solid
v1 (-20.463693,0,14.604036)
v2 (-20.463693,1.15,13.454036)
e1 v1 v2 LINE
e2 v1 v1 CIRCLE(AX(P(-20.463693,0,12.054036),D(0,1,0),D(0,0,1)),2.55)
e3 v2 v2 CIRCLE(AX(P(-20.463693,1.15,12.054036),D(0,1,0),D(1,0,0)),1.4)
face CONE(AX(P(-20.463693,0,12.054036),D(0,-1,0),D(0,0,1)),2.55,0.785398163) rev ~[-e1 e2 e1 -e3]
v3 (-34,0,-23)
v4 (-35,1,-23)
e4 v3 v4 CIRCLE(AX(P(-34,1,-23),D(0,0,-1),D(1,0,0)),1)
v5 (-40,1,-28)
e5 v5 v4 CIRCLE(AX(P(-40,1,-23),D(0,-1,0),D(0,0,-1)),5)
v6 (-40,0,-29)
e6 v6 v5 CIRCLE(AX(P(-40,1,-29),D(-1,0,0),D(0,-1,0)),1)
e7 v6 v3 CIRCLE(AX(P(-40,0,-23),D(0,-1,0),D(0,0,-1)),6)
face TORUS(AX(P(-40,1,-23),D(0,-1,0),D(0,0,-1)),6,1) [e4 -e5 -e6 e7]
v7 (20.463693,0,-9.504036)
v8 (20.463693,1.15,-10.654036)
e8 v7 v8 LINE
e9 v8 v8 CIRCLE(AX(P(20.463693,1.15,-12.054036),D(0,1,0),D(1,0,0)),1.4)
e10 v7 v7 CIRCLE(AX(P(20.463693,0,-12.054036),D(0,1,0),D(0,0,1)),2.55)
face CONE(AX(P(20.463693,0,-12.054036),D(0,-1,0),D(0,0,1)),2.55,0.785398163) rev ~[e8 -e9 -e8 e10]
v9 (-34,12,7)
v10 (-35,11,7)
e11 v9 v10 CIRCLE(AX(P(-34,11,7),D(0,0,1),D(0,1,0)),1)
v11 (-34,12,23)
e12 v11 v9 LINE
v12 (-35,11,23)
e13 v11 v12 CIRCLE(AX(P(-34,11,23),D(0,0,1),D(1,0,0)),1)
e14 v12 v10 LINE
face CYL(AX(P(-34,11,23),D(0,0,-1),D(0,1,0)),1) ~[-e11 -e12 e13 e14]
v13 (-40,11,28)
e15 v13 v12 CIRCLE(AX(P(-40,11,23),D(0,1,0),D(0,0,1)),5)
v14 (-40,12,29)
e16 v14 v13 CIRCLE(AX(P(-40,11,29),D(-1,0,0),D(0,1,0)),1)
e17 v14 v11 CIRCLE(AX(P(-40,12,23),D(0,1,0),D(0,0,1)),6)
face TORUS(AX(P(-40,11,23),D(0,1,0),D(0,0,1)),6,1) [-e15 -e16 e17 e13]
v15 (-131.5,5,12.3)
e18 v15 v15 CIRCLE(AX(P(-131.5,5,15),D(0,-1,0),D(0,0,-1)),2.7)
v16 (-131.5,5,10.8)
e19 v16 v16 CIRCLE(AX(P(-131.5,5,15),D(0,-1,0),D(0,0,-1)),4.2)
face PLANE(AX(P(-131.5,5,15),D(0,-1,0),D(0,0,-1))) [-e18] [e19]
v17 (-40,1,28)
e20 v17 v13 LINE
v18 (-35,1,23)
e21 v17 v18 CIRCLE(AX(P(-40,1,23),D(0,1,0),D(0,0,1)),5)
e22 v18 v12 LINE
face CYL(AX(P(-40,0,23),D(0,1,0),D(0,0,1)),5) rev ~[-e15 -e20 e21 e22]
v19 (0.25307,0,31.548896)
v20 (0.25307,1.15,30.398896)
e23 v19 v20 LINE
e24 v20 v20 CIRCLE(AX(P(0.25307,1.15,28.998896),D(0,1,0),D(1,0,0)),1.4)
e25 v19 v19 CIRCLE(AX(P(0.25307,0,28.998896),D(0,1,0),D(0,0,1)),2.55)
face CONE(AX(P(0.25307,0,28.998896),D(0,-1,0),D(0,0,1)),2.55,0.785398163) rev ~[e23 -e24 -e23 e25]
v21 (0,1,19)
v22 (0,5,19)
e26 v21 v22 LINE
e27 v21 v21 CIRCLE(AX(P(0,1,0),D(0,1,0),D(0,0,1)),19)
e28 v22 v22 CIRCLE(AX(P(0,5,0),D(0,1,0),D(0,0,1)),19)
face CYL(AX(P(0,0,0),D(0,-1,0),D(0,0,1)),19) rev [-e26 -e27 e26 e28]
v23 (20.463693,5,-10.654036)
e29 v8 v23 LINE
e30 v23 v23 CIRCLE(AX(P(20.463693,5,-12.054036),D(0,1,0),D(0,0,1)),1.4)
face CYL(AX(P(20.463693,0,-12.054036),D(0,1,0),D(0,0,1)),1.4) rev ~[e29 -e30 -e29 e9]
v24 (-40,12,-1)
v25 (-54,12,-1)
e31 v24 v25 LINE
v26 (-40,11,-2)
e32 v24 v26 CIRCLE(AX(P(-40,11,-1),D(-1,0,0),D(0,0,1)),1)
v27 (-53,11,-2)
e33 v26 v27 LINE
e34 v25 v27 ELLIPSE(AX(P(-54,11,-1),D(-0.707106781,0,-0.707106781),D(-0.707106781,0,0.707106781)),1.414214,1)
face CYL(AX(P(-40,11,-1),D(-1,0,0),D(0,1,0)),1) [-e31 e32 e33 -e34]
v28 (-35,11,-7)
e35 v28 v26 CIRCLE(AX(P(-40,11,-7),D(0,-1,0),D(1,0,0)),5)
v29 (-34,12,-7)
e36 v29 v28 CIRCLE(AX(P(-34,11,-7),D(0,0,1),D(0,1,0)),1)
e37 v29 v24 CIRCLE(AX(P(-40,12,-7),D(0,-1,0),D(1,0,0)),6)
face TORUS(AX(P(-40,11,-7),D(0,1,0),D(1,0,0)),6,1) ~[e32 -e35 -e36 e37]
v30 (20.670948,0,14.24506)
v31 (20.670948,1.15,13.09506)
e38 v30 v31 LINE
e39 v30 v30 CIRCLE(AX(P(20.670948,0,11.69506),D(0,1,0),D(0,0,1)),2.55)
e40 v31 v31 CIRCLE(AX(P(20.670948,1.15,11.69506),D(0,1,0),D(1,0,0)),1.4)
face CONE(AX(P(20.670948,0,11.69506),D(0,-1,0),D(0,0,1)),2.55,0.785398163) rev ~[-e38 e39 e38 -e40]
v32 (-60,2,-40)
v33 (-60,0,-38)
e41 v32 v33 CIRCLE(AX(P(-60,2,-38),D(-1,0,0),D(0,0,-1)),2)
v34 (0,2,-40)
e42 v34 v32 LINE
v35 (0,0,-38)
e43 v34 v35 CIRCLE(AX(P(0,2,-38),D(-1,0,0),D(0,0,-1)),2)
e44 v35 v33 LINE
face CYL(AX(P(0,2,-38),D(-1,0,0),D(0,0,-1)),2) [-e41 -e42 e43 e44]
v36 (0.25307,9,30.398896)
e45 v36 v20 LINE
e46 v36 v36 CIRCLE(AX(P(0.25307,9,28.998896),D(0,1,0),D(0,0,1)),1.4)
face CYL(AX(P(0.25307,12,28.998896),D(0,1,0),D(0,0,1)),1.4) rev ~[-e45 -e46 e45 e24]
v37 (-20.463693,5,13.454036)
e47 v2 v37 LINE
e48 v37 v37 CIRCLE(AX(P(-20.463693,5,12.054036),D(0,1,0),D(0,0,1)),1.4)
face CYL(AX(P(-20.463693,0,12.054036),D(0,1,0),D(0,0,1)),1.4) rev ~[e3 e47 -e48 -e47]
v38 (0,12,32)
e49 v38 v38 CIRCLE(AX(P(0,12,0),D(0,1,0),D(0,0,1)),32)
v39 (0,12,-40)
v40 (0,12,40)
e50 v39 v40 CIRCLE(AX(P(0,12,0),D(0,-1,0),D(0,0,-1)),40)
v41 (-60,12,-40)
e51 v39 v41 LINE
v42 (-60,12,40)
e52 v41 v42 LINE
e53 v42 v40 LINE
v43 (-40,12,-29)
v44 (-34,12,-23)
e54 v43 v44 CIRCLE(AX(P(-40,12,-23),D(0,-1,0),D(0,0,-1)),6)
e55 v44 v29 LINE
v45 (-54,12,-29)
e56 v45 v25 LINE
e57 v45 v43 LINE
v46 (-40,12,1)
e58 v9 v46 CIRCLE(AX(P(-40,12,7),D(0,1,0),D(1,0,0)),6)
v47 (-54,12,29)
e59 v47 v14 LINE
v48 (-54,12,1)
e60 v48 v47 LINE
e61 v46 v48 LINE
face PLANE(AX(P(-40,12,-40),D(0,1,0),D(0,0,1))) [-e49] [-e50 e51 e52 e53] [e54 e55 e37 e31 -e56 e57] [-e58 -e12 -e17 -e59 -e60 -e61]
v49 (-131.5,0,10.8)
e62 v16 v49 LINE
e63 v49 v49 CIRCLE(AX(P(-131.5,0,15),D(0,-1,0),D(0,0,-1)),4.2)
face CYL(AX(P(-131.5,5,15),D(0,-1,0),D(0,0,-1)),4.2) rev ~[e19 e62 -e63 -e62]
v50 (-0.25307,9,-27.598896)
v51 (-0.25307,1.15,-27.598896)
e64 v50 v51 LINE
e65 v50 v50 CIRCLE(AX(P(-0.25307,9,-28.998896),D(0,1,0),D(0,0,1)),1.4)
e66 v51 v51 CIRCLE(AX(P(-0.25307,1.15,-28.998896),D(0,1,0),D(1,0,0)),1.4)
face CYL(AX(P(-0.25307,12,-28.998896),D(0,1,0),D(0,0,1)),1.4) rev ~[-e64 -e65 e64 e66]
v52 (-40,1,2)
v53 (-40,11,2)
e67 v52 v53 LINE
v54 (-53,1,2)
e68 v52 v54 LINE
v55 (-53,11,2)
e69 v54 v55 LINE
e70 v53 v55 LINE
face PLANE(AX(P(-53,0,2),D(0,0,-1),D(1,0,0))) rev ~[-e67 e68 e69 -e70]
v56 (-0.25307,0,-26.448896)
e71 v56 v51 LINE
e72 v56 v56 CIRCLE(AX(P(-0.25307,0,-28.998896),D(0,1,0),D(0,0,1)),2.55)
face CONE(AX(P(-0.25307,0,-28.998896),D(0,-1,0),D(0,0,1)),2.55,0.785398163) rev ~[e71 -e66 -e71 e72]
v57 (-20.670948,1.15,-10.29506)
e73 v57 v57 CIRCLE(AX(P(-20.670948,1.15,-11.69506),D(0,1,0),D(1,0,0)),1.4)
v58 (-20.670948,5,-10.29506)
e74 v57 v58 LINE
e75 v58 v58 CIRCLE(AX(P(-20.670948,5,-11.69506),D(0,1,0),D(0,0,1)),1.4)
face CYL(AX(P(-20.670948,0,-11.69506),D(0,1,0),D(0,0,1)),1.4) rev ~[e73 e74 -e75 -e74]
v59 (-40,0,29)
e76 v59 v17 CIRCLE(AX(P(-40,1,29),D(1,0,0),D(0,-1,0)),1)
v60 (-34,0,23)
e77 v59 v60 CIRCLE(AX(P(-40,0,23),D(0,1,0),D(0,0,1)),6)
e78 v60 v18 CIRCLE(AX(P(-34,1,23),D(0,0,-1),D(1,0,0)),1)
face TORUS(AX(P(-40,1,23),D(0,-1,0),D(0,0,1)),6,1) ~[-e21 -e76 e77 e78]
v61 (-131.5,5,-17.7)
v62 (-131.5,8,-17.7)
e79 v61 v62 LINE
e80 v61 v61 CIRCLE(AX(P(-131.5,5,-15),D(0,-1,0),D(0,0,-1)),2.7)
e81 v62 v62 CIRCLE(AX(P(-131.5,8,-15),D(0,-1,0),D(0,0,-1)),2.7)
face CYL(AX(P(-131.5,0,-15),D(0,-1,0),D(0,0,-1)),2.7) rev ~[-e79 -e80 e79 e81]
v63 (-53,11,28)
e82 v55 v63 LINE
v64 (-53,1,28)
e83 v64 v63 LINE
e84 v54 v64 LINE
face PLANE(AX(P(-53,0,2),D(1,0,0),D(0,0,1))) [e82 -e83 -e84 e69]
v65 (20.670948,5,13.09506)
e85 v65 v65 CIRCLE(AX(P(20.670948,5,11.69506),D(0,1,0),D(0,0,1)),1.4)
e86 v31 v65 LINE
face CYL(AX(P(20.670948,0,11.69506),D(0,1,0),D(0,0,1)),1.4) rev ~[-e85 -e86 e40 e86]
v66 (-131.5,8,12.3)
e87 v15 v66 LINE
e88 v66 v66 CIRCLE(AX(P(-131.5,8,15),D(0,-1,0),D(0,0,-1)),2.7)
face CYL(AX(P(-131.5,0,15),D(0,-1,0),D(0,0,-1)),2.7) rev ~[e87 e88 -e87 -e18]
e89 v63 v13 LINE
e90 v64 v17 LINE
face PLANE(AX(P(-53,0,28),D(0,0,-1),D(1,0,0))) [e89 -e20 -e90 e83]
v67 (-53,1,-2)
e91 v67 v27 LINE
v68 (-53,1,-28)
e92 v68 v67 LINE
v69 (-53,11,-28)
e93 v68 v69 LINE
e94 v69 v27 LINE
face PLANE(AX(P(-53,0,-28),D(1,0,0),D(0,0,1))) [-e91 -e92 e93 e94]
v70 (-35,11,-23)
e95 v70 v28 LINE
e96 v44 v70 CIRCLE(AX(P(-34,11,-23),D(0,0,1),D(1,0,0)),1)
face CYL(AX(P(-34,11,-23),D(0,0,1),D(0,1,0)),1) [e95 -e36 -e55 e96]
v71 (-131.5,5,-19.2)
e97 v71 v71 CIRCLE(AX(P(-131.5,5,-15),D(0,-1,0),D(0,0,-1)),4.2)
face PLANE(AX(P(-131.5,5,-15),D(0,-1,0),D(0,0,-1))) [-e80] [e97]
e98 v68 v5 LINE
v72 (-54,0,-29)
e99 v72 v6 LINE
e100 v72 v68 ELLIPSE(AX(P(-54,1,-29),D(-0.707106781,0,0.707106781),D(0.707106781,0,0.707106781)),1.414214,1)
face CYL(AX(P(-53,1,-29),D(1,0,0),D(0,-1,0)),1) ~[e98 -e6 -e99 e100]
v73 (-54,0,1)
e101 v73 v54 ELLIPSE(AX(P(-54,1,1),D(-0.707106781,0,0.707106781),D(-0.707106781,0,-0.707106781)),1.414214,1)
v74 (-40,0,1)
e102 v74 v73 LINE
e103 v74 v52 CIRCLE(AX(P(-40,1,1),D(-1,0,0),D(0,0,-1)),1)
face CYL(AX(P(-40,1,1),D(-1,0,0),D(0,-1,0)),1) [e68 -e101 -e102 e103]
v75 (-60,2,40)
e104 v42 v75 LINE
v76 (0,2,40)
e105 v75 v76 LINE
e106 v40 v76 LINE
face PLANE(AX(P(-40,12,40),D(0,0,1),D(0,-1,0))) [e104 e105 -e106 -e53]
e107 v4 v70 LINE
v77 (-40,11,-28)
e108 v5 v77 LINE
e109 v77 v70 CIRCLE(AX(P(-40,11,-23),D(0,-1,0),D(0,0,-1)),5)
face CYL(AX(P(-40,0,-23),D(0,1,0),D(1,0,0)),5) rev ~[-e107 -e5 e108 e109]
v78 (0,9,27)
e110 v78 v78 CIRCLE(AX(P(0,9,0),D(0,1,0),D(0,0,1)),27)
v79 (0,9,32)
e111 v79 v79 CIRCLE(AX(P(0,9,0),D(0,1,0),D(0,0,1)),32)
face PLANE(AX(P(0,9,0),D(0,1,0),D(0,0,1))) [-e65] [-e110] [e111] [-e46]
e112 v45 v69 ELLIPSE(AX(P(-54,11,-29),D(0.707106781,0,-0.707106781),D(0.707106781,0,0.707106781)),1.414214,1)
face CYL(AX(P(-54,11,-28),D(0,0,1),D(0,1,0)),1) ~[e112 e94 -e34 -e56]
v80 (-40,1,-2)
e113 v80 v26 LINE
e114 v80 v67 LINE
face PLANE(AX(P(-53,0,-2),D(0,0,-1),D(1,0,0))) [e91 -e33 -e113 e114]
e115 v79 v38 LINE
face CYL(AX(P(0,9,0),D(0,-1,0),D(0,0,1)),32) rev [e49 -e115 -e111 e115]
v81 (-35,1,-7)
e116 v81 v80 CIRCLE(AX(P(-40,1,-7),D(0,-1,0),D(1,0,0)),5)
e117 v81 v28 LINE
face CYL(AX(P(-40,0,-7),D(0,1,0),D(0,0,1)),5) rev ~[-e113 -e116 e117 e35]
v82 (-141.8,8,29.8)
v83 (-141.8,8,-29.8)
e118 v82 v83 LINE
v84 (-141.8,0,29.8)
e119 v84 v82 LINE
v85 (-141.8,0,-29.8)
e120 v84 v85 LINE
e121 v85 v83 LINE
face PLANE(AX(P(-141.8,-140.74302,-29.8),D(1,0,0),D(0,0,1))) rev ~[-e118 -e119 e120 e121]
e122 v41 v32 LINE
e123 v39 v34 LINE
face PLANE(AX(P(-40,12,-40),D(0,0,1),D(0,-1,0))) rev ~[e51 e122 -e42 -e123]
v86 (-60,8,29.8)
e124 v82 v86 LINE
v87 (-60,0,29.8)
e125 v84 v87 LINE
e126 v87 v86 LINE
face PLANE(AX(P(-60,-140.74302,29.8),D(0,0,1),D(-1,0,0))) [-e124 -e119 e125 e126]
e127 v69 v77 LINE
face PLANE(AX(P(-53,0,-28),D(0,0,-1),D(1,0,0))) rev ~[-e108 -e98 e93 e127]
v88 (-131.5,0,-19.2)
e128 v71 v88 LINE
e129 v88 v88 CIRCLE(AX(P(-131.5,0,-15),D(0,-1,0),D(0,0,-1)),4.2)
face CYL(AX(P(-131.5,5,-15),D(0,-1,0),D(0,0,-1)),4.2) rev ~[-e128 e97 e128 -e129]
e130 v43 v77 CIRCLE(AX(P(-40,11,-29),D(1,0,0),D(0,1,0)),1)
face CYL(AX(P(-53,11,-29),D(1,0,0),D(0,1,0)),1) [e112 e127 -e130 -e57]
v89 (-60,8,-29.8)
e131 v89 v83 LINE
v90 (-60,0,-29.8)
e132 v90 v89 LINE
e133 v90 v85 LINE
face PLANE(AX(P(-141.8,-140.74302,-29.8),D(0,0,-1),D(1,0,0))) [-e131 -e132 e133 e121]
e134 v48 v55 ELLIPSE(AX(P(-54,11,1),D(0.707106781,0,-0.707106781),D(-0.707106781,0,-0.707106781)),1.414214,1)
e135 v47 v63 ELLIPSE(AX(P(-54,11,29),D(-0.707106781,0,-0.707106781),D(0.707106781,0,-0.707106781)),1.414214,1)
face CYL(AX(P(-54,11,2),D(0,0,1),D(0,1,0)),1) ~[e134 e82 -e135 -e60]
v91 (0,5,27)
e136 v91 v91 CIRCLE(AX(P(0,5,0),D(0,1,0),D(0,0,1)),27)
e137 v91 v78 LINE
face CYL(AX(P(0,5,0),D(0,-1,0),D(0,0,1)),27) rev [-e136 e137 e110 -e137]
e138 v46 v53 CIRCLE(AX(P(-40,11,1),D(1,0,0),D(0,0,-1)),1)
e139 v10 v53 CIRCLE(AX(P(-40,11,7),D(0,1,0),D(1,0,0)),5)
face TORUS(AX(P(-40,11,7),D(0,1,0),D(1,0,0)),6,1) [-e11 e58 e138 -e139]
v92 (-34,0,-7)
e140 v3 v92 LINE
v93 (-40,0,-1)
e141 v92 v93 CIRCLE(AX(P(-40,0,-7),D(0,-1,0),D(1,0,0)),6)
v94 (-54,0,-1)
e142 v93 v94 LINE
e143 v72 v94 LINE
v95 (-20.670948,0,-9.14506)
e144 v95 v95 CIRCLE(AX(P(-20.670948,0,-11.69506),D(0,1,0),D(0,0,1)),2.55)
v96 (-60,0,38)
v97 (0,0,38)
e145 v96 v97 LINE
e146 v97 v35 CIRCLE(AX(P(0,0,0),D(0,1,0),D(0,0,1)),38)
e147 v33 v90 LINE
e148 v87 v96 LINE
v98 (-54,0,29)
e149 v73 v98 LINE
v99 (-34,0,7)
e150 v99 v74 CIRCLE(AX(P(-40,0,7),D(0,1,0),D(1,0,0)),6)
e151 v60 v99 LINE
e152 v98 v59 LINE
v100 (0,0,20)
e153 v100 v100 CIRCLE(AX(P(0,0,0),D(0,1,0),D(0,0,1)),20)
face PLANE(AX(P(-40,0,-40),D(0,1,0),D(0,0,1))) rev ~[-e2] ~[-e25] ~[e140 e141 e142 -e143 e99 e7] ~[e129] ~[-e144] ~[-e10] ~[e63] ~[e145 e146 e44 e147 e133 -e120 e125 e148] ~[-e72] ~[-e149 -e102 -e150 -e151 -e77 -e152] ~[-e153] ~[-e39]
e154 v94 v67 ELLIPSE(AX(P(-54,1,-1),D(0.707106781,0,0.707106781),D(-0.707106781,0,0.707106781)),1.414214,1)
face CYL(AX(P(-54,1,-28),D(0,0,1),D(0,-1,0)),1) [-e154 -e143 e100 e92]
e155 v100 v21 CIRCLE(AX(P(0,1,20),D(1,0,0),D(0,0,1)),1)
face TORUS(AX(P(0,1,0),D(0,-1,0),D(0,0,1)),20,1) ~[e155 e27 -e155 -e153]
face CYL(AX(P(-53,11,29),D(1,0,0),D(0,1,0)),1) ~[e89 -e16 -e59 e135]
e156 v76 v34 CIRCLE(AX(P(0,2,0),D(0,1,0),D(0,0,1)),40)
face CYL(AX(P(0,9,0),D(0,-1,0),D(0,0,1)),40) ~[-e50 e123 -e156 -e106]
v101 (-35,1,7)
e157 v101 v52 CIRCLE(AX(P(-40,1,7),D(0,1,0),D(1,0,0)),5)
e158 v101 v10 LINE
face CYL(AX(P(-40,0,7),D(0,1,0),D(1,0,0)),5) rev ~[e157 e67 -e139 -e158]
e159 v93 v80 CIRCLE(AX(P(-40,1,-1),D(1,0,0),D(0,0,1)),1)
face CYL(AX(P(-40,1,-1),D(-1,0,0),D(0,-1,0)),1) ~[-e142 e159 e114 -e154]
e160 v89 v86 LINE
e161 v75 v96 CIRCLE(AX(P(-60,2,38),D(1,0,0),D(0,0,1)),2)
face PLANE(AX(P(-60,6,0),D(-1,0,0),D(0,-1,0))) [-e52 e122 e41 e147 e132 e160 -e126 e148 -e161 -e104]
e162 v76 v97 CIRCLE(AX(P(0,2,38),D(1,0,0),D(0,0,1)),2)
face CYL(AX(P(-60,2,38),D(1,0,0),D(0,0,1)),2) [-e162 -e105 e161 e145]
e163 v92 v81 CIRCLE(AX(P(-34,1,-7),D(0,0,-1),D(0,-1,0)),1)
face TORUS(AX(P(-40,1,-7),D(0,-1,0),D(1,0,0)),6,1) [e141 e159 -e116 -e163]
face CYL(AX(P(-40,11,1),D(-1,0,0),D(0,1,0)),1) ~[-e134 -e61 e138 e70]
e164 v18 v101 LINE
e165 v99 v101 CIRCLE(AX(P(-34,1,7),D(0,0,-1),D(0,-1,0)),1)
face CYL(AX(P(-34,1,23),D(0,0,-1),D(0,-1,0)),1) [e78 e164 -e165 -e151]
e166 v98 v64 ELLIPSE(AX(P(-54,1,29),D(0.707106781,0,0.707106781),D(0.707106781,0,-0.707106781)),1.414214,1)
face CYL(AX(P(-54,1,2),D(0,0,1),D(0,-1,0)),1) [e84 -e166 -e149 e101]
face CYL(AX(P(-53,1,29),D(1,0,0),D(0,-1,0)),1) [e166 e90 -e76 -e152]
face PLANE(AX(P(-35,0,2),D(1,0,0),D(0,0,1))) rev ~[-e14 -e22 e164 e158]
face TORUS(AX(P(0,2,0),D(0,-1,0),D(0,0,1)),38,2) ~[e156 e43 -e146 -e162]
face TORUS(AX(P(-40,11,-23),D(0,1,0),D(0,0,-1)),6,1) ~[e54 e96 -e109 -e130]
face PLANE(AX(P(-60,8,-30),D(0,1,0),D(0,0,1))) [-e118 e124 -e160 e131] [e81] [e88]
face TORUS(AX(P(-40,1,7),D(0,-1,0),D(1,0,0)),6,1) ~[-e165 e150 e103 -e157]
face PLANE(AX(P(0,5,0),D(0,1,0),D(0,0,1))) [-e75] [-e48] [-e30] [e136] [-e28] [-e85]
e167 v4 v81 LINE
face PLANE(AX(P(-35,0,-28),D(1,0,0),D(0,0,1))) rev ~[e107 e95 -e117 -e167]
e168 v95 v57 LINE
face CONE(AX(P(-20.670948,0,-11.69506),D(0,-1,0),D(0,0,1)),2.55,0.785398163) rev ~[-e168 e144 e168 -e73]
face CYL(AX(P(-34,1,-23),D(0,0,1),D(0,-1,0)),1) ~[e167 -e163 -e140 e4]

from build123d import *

# Parameters (mm, degrees)
SKETCH1_R                                         = 40
SKETCH1_R_2                                       = 19
BOSS_EXTRUDE1_DEPTH                               = 5
SKETCH2_R                                         = 40
SKETCH2_R_2                                       = 27
BOSS_EXTRUDE2_DEPTH                               = 4
SKETCH3_R                                         = 40
SKETCH3_R_2                                       = 32
BOSS_EXTRUDE3_DEPTH                               = 3
BOSS_EXTRUDE4_REACH                               = 92.244
BOSS_EXTRUDE4_END_RADIUS                          = 40
SKETCH6_W                                         = 12
SKETCH6_H                                         = 80
BOSS_EXTRUDE4_DIRECTION_2_DEPTH                   = 20
SKETCH9_W                                         = 60
SKETCH9_H                                         = 8
BOSS_EXTRUDE5_DEPTH                               = 82
SKETCH19_R                                        = 2.7
SKETCH19_W                                        = 18
SKETCH19_H                                        = 26
CUT_EXTRUDE8_DEPTH                                = 12
SKETCH5_R                                         = 1.4
SKETCH5_R_2                                       = 1.375
CUT_EXTRUDE1_HOLE_DEPTH                           = 149.013512897
CUT_EXTRUDE9_REALITY_DEPTH                        = 148.74302014
CUT_EXTRUDE9_REALITY_DEPTH_BACK                   = 148.74302014
CBORE_FOR_M5_HEX_HEAD_BOLT1_D                     = 5.4
CBORE_FOR_M5_HEX_HEAD_BOLT1_DEPTH                 = 17
CBORE_FOR_M5_HEX_HEAD_BOLT1_CBORE_D               = 8.4
CBORE_FOR_M5_HEX_HEAD_BOLT1_CBORE_DEPTH           = 5
CSK_FOR_M2_5_FLAT_HEAD_MACHINE_SCREW1_D           = 2.8
CSK_FOR_M2_5_FLAT_HEAD_MACHINE_SCREW1_CSINK_D     = 5.1
CSK_FOR_M2_5_FLAT_HEAD_MACHINE_SCREW1_CSINK_ANGLE = 90
FILLET1_5MM_R                                     = 5
FILLET2_2MM_R                                     = 2
FILLET3_1MM_R                                     = 1


with BuildPart() as part:
    # Sketch1 → Boss-Extrude1 (new body)
    with BuildSketch(Plane(origin=(0, 0, 0), x_dir=(1, 0, 0), z_dir=(0, 1, 0))):
        Circle(SKETCH1_R)
        Circle(SKETCH1_R_2, mode=Mode.SUBTRACT)
    extrude(amount=BOSS_EXTRUDE1_DEPTH)

    # Sketch2 → Boss-Extrude2 (add)
    with BuildSketch(Plane(origin=(0, 5, 0), x_dir=(1, 0, 0), z_dir=(0, 1, 0))):
        Circle(SKETCH2_R)
        Circle(SKETCH2_R_2, mode=Mode.SUBTRACT)
    extrude(amount=BOSS_EXTRUDE2_DEPTH)

    # Sketch3 → Boss-Extrude3 (add)
    with BuildSketch(Plane(origin=(0, 9, 0), x_dir=(1, 0, 0), z_dir=(0, 1, 0))):
        Circle(SKETCH3_R)
        Circle(SKETCH3_R_2, mode=Mode.SUBTRACT)
    extrude(amount=BOSS_EXTRUDE3_DEPTH)

    # Boss-Extrude4: up to this cylinder (the profile starts outside it)
    boss_extrude4_end = Plane(origin=(0, 6, 0), z_dir=(0, -1, 0)) * Cylinder(BOSS_EXTRUDE4_END_RADIUS, 265.488, mode=Mode.PRIVATE)
    # Sketch6 → Boss-Extrude4 (add, up to the surface)
    with BuildSketch(Plane(origin=(-40, 0, 0), x_dir=(0, -1, 0), z_dir=(-1, 0, 0)), mode=Mode.PRIVATE) as boss_extrude4_sk1:
        with Locations((-6, 0)):
            Rectangle(SKETCH6_W, SKETCH6_H)
    boss_extrude4_tool1 = extrude(boss_extrude4_sk1.sketch, amount=-BOSS_EXTRUDE4_REACH, mode=Mode.PRIVATE) - boss_extrude4_end
    add(boss_extrude4_tool1.solids().sort_by_distance((-40, 6, 0))[0])
    add(boss_extrude4_tool1.solids().sort_by_distance((-40, 6, 0))[1])

    # Sketch6 → Boss-Extrude4 direction 2 (add)
    with BuildSketch(Plane(origin=(-40, 0, 0), x_dir=(0, -1, 0), z_dir=(-1, 0, 0))):
        with Locations((-6, 0)):
            Rectangle(SKETCH6_W, SKETCH6_H)
    extrude(amount=BOSS_EXTRUDE4_DIRECTION_2_DEPTH)

    # Sketch9 → Boss-Extrude5 (add)
    with BuildSketch(Plane.ZY.offset(60)):
        with Locations((0, 4)):
            Rectangle(SKETCH9_W, SKETCH9_H)
    extrude(amount=BOSS_EXTRUDE5_DEPTH)

    # Sketch19 → Cut-Extrude8 (cut)
    with BuildSketch(Plane.XZ):
        with Locations((-131.5, 15)):
            Circle(SKETCH19_R)
        with Locations((-131.5, -15)):
            Circle(SKETCH19_R)
        with Locations((-44, 15)):
            Rectangle(SKETCH19_W, SKETCH19_H)
        with Locations((-44, -15)):
            Rectangle(SKETCH19_W, SKETCH19_H)
    extrude(amount=-CUT_EXTRUDE8_DEPTH, mode=Mode.SUBTRACT)

    # Sketch5 → Cut-Extrude1-Hole (cut, through all)
    with BuildSketch(Plane(origin=(0, 12, 0), x_dir=(1, 0, 0), z_dir=(0, 1, 0))):
        with Locations((-0.253069529, 28.998895769)):
            Circle(SKETCH5_R)
        with Locations((20.46369256, 12.05403612)):
            Circle(SKETCH5_R_2)
        with Locations((20.670947779, -11.695059552)):
            Circle(SKETCH5_R_2)
        with Locations((0.253069529, -28.998895769)):
            Circle(SKETCH5_R)
        with Locations((-20.46369256, -12.05403612)):
            Circle(SKETCH5_R_2)
        with Locations((-20.670947779, 11.695059552)):
            Circle(SKETCH5_R_2)
    extrude(amount=-CUT_EXTRUDE1_HOLE_DEPTH, mode=Mode.SUBTRACT)

    # Sketch22 → Cut-Extrude9-Reality (cut, two sides: drawn at the far end of the back side and taken through both)
    with BuildSketch(Plane(origin=(0, 8, 0), x_dir=(1, 0, 0), z_dir=(0, 1, 0)).offset(-CUT_EXTRUDE9_REALITY_DEPTH_BACK)):
        Polygon((-141.8, 29.8), (-141.8, -29.8), (-60.2, -29.8), (-60, -29.8), (-60, -30), (-142, -30), (-142, 30), (-60, 30), (-60, 29.8), (-60.2, 29.8), align=None)
    extrude(amount=CUT_EXTRUDE9_REALITY_DEPTH + CUT_EXTRUDE9_REALITY_DEPTH_BACK, mode=Mode.SUBTRACT)

    # CBORE for M5 Hex Head Bolt1
    with Locations(Plane(origin=(-131.5, 0, 15), x_dir=(0, 0, -1), z_dir=(0, -1, 0))):
        with Locations((0, 0), (30, 0)):
            CounterBoreHole(CBORE_FOR_M5_HEX_HEAD_BOLT1_D / 2, CBORE_FOR_M5_HEX_HEAD_BOLT1_CBORE_D / 2, CBORE_FOR_M5_HEX_HEAD_BOLT1_CBORE_DEPTH, depth=CBORE_FOR_M5_HEX_HEAD_BOLT1_DEPTH)

    # CSK for M2.5 Flat Head Machine Screw1 (through all)
    with Locations(Plane(origin=(-20.46369256, 0, 12.05403612), x_dir=(0, 0, -1), z_dir=(0, -1, 0))):
        with Locations((0, 0), (23.749095672, -0.207255219), (24.10807224, 40.92738512), (0.358976568, 41.134640339), (-16.944859649, 20.716762089), (41.052931889, 20.210623031)):
            CounterSinkHole(CSK_FOR_M2_5_FLAT_HEAD_MACHINE_SCREW1_D / 2, CSK_FOR_M2_5_FLAT_HEAD_MACHINE_SCREW1_CSINK_D / 2, counter_sink_angle=CSK_FOR_M2_5_FLAT_HEAD_MACHINE_SCREW1_CSINK_ANGLE)

    # Fillet1-5mm
    fillet1_5mm_edges = [part.edges().sort_by_distance(p)[0] for p in [
        (-35, 6, 2),
        (-35, 6, -2),
        (-35, 6, -28),
        (-35, 6, 28),
    ]]
    fillet(fillet1_5mm_edges, radius=FILLET1_5MM_R)

    # Fillet2-2mm
    fillet2_2mm_edges = [part.edges().sort_by_distance(p)[0] for p in [
        (-30, 0, 40),
        (-30, 0, -40),
        (40, 0, 0),
    ]]
    fillet(fillet2_2mm_edges, radius=FILLET2_2MM_R)

    # Fillet3-1mm
    fillet3_1mm_edges = [part.edges().sort_by_distance(p)[0] for p in [
        (-19, 0, 0),
        (-46.5, 12, 2),
        (-36.464466094, 12, 3.464466094),
        (-46.5, 12, -2),
        (-36.464466094, 12, -3.464466094),
        (-35, 12, 15),
        (-35, 12, -15),
        (-53, 12, 15),
        (-53, 12, -15),
        (-46.5, 0, 2),
        (-36.464466094, 0, 3.464466094),
        (-46.5, 0, -2),
        (-36.464466094, 0, -3.464466094),
        (-53, 0, -15),
        (-53, 0, 15),
        (-35, 0, 15),
        (-35, 0, -15),
        (-46.5, 0, 28),
        (-36.464466094, 0, 26.535533906),
        (-46.5, 0, -28),
        (-36.464466094, 0, -26.535533906),
        (-46.5, 12, 28),
        (-36.464466094, 12, 26.535533906),
        (-46.5, 12, -28),
        (-36.464466094, 12, -26.535533906),
    ]]
    fillet(fillet3_1mm_edges, radius=FILLET3_1MM_R)


solid = part.part
